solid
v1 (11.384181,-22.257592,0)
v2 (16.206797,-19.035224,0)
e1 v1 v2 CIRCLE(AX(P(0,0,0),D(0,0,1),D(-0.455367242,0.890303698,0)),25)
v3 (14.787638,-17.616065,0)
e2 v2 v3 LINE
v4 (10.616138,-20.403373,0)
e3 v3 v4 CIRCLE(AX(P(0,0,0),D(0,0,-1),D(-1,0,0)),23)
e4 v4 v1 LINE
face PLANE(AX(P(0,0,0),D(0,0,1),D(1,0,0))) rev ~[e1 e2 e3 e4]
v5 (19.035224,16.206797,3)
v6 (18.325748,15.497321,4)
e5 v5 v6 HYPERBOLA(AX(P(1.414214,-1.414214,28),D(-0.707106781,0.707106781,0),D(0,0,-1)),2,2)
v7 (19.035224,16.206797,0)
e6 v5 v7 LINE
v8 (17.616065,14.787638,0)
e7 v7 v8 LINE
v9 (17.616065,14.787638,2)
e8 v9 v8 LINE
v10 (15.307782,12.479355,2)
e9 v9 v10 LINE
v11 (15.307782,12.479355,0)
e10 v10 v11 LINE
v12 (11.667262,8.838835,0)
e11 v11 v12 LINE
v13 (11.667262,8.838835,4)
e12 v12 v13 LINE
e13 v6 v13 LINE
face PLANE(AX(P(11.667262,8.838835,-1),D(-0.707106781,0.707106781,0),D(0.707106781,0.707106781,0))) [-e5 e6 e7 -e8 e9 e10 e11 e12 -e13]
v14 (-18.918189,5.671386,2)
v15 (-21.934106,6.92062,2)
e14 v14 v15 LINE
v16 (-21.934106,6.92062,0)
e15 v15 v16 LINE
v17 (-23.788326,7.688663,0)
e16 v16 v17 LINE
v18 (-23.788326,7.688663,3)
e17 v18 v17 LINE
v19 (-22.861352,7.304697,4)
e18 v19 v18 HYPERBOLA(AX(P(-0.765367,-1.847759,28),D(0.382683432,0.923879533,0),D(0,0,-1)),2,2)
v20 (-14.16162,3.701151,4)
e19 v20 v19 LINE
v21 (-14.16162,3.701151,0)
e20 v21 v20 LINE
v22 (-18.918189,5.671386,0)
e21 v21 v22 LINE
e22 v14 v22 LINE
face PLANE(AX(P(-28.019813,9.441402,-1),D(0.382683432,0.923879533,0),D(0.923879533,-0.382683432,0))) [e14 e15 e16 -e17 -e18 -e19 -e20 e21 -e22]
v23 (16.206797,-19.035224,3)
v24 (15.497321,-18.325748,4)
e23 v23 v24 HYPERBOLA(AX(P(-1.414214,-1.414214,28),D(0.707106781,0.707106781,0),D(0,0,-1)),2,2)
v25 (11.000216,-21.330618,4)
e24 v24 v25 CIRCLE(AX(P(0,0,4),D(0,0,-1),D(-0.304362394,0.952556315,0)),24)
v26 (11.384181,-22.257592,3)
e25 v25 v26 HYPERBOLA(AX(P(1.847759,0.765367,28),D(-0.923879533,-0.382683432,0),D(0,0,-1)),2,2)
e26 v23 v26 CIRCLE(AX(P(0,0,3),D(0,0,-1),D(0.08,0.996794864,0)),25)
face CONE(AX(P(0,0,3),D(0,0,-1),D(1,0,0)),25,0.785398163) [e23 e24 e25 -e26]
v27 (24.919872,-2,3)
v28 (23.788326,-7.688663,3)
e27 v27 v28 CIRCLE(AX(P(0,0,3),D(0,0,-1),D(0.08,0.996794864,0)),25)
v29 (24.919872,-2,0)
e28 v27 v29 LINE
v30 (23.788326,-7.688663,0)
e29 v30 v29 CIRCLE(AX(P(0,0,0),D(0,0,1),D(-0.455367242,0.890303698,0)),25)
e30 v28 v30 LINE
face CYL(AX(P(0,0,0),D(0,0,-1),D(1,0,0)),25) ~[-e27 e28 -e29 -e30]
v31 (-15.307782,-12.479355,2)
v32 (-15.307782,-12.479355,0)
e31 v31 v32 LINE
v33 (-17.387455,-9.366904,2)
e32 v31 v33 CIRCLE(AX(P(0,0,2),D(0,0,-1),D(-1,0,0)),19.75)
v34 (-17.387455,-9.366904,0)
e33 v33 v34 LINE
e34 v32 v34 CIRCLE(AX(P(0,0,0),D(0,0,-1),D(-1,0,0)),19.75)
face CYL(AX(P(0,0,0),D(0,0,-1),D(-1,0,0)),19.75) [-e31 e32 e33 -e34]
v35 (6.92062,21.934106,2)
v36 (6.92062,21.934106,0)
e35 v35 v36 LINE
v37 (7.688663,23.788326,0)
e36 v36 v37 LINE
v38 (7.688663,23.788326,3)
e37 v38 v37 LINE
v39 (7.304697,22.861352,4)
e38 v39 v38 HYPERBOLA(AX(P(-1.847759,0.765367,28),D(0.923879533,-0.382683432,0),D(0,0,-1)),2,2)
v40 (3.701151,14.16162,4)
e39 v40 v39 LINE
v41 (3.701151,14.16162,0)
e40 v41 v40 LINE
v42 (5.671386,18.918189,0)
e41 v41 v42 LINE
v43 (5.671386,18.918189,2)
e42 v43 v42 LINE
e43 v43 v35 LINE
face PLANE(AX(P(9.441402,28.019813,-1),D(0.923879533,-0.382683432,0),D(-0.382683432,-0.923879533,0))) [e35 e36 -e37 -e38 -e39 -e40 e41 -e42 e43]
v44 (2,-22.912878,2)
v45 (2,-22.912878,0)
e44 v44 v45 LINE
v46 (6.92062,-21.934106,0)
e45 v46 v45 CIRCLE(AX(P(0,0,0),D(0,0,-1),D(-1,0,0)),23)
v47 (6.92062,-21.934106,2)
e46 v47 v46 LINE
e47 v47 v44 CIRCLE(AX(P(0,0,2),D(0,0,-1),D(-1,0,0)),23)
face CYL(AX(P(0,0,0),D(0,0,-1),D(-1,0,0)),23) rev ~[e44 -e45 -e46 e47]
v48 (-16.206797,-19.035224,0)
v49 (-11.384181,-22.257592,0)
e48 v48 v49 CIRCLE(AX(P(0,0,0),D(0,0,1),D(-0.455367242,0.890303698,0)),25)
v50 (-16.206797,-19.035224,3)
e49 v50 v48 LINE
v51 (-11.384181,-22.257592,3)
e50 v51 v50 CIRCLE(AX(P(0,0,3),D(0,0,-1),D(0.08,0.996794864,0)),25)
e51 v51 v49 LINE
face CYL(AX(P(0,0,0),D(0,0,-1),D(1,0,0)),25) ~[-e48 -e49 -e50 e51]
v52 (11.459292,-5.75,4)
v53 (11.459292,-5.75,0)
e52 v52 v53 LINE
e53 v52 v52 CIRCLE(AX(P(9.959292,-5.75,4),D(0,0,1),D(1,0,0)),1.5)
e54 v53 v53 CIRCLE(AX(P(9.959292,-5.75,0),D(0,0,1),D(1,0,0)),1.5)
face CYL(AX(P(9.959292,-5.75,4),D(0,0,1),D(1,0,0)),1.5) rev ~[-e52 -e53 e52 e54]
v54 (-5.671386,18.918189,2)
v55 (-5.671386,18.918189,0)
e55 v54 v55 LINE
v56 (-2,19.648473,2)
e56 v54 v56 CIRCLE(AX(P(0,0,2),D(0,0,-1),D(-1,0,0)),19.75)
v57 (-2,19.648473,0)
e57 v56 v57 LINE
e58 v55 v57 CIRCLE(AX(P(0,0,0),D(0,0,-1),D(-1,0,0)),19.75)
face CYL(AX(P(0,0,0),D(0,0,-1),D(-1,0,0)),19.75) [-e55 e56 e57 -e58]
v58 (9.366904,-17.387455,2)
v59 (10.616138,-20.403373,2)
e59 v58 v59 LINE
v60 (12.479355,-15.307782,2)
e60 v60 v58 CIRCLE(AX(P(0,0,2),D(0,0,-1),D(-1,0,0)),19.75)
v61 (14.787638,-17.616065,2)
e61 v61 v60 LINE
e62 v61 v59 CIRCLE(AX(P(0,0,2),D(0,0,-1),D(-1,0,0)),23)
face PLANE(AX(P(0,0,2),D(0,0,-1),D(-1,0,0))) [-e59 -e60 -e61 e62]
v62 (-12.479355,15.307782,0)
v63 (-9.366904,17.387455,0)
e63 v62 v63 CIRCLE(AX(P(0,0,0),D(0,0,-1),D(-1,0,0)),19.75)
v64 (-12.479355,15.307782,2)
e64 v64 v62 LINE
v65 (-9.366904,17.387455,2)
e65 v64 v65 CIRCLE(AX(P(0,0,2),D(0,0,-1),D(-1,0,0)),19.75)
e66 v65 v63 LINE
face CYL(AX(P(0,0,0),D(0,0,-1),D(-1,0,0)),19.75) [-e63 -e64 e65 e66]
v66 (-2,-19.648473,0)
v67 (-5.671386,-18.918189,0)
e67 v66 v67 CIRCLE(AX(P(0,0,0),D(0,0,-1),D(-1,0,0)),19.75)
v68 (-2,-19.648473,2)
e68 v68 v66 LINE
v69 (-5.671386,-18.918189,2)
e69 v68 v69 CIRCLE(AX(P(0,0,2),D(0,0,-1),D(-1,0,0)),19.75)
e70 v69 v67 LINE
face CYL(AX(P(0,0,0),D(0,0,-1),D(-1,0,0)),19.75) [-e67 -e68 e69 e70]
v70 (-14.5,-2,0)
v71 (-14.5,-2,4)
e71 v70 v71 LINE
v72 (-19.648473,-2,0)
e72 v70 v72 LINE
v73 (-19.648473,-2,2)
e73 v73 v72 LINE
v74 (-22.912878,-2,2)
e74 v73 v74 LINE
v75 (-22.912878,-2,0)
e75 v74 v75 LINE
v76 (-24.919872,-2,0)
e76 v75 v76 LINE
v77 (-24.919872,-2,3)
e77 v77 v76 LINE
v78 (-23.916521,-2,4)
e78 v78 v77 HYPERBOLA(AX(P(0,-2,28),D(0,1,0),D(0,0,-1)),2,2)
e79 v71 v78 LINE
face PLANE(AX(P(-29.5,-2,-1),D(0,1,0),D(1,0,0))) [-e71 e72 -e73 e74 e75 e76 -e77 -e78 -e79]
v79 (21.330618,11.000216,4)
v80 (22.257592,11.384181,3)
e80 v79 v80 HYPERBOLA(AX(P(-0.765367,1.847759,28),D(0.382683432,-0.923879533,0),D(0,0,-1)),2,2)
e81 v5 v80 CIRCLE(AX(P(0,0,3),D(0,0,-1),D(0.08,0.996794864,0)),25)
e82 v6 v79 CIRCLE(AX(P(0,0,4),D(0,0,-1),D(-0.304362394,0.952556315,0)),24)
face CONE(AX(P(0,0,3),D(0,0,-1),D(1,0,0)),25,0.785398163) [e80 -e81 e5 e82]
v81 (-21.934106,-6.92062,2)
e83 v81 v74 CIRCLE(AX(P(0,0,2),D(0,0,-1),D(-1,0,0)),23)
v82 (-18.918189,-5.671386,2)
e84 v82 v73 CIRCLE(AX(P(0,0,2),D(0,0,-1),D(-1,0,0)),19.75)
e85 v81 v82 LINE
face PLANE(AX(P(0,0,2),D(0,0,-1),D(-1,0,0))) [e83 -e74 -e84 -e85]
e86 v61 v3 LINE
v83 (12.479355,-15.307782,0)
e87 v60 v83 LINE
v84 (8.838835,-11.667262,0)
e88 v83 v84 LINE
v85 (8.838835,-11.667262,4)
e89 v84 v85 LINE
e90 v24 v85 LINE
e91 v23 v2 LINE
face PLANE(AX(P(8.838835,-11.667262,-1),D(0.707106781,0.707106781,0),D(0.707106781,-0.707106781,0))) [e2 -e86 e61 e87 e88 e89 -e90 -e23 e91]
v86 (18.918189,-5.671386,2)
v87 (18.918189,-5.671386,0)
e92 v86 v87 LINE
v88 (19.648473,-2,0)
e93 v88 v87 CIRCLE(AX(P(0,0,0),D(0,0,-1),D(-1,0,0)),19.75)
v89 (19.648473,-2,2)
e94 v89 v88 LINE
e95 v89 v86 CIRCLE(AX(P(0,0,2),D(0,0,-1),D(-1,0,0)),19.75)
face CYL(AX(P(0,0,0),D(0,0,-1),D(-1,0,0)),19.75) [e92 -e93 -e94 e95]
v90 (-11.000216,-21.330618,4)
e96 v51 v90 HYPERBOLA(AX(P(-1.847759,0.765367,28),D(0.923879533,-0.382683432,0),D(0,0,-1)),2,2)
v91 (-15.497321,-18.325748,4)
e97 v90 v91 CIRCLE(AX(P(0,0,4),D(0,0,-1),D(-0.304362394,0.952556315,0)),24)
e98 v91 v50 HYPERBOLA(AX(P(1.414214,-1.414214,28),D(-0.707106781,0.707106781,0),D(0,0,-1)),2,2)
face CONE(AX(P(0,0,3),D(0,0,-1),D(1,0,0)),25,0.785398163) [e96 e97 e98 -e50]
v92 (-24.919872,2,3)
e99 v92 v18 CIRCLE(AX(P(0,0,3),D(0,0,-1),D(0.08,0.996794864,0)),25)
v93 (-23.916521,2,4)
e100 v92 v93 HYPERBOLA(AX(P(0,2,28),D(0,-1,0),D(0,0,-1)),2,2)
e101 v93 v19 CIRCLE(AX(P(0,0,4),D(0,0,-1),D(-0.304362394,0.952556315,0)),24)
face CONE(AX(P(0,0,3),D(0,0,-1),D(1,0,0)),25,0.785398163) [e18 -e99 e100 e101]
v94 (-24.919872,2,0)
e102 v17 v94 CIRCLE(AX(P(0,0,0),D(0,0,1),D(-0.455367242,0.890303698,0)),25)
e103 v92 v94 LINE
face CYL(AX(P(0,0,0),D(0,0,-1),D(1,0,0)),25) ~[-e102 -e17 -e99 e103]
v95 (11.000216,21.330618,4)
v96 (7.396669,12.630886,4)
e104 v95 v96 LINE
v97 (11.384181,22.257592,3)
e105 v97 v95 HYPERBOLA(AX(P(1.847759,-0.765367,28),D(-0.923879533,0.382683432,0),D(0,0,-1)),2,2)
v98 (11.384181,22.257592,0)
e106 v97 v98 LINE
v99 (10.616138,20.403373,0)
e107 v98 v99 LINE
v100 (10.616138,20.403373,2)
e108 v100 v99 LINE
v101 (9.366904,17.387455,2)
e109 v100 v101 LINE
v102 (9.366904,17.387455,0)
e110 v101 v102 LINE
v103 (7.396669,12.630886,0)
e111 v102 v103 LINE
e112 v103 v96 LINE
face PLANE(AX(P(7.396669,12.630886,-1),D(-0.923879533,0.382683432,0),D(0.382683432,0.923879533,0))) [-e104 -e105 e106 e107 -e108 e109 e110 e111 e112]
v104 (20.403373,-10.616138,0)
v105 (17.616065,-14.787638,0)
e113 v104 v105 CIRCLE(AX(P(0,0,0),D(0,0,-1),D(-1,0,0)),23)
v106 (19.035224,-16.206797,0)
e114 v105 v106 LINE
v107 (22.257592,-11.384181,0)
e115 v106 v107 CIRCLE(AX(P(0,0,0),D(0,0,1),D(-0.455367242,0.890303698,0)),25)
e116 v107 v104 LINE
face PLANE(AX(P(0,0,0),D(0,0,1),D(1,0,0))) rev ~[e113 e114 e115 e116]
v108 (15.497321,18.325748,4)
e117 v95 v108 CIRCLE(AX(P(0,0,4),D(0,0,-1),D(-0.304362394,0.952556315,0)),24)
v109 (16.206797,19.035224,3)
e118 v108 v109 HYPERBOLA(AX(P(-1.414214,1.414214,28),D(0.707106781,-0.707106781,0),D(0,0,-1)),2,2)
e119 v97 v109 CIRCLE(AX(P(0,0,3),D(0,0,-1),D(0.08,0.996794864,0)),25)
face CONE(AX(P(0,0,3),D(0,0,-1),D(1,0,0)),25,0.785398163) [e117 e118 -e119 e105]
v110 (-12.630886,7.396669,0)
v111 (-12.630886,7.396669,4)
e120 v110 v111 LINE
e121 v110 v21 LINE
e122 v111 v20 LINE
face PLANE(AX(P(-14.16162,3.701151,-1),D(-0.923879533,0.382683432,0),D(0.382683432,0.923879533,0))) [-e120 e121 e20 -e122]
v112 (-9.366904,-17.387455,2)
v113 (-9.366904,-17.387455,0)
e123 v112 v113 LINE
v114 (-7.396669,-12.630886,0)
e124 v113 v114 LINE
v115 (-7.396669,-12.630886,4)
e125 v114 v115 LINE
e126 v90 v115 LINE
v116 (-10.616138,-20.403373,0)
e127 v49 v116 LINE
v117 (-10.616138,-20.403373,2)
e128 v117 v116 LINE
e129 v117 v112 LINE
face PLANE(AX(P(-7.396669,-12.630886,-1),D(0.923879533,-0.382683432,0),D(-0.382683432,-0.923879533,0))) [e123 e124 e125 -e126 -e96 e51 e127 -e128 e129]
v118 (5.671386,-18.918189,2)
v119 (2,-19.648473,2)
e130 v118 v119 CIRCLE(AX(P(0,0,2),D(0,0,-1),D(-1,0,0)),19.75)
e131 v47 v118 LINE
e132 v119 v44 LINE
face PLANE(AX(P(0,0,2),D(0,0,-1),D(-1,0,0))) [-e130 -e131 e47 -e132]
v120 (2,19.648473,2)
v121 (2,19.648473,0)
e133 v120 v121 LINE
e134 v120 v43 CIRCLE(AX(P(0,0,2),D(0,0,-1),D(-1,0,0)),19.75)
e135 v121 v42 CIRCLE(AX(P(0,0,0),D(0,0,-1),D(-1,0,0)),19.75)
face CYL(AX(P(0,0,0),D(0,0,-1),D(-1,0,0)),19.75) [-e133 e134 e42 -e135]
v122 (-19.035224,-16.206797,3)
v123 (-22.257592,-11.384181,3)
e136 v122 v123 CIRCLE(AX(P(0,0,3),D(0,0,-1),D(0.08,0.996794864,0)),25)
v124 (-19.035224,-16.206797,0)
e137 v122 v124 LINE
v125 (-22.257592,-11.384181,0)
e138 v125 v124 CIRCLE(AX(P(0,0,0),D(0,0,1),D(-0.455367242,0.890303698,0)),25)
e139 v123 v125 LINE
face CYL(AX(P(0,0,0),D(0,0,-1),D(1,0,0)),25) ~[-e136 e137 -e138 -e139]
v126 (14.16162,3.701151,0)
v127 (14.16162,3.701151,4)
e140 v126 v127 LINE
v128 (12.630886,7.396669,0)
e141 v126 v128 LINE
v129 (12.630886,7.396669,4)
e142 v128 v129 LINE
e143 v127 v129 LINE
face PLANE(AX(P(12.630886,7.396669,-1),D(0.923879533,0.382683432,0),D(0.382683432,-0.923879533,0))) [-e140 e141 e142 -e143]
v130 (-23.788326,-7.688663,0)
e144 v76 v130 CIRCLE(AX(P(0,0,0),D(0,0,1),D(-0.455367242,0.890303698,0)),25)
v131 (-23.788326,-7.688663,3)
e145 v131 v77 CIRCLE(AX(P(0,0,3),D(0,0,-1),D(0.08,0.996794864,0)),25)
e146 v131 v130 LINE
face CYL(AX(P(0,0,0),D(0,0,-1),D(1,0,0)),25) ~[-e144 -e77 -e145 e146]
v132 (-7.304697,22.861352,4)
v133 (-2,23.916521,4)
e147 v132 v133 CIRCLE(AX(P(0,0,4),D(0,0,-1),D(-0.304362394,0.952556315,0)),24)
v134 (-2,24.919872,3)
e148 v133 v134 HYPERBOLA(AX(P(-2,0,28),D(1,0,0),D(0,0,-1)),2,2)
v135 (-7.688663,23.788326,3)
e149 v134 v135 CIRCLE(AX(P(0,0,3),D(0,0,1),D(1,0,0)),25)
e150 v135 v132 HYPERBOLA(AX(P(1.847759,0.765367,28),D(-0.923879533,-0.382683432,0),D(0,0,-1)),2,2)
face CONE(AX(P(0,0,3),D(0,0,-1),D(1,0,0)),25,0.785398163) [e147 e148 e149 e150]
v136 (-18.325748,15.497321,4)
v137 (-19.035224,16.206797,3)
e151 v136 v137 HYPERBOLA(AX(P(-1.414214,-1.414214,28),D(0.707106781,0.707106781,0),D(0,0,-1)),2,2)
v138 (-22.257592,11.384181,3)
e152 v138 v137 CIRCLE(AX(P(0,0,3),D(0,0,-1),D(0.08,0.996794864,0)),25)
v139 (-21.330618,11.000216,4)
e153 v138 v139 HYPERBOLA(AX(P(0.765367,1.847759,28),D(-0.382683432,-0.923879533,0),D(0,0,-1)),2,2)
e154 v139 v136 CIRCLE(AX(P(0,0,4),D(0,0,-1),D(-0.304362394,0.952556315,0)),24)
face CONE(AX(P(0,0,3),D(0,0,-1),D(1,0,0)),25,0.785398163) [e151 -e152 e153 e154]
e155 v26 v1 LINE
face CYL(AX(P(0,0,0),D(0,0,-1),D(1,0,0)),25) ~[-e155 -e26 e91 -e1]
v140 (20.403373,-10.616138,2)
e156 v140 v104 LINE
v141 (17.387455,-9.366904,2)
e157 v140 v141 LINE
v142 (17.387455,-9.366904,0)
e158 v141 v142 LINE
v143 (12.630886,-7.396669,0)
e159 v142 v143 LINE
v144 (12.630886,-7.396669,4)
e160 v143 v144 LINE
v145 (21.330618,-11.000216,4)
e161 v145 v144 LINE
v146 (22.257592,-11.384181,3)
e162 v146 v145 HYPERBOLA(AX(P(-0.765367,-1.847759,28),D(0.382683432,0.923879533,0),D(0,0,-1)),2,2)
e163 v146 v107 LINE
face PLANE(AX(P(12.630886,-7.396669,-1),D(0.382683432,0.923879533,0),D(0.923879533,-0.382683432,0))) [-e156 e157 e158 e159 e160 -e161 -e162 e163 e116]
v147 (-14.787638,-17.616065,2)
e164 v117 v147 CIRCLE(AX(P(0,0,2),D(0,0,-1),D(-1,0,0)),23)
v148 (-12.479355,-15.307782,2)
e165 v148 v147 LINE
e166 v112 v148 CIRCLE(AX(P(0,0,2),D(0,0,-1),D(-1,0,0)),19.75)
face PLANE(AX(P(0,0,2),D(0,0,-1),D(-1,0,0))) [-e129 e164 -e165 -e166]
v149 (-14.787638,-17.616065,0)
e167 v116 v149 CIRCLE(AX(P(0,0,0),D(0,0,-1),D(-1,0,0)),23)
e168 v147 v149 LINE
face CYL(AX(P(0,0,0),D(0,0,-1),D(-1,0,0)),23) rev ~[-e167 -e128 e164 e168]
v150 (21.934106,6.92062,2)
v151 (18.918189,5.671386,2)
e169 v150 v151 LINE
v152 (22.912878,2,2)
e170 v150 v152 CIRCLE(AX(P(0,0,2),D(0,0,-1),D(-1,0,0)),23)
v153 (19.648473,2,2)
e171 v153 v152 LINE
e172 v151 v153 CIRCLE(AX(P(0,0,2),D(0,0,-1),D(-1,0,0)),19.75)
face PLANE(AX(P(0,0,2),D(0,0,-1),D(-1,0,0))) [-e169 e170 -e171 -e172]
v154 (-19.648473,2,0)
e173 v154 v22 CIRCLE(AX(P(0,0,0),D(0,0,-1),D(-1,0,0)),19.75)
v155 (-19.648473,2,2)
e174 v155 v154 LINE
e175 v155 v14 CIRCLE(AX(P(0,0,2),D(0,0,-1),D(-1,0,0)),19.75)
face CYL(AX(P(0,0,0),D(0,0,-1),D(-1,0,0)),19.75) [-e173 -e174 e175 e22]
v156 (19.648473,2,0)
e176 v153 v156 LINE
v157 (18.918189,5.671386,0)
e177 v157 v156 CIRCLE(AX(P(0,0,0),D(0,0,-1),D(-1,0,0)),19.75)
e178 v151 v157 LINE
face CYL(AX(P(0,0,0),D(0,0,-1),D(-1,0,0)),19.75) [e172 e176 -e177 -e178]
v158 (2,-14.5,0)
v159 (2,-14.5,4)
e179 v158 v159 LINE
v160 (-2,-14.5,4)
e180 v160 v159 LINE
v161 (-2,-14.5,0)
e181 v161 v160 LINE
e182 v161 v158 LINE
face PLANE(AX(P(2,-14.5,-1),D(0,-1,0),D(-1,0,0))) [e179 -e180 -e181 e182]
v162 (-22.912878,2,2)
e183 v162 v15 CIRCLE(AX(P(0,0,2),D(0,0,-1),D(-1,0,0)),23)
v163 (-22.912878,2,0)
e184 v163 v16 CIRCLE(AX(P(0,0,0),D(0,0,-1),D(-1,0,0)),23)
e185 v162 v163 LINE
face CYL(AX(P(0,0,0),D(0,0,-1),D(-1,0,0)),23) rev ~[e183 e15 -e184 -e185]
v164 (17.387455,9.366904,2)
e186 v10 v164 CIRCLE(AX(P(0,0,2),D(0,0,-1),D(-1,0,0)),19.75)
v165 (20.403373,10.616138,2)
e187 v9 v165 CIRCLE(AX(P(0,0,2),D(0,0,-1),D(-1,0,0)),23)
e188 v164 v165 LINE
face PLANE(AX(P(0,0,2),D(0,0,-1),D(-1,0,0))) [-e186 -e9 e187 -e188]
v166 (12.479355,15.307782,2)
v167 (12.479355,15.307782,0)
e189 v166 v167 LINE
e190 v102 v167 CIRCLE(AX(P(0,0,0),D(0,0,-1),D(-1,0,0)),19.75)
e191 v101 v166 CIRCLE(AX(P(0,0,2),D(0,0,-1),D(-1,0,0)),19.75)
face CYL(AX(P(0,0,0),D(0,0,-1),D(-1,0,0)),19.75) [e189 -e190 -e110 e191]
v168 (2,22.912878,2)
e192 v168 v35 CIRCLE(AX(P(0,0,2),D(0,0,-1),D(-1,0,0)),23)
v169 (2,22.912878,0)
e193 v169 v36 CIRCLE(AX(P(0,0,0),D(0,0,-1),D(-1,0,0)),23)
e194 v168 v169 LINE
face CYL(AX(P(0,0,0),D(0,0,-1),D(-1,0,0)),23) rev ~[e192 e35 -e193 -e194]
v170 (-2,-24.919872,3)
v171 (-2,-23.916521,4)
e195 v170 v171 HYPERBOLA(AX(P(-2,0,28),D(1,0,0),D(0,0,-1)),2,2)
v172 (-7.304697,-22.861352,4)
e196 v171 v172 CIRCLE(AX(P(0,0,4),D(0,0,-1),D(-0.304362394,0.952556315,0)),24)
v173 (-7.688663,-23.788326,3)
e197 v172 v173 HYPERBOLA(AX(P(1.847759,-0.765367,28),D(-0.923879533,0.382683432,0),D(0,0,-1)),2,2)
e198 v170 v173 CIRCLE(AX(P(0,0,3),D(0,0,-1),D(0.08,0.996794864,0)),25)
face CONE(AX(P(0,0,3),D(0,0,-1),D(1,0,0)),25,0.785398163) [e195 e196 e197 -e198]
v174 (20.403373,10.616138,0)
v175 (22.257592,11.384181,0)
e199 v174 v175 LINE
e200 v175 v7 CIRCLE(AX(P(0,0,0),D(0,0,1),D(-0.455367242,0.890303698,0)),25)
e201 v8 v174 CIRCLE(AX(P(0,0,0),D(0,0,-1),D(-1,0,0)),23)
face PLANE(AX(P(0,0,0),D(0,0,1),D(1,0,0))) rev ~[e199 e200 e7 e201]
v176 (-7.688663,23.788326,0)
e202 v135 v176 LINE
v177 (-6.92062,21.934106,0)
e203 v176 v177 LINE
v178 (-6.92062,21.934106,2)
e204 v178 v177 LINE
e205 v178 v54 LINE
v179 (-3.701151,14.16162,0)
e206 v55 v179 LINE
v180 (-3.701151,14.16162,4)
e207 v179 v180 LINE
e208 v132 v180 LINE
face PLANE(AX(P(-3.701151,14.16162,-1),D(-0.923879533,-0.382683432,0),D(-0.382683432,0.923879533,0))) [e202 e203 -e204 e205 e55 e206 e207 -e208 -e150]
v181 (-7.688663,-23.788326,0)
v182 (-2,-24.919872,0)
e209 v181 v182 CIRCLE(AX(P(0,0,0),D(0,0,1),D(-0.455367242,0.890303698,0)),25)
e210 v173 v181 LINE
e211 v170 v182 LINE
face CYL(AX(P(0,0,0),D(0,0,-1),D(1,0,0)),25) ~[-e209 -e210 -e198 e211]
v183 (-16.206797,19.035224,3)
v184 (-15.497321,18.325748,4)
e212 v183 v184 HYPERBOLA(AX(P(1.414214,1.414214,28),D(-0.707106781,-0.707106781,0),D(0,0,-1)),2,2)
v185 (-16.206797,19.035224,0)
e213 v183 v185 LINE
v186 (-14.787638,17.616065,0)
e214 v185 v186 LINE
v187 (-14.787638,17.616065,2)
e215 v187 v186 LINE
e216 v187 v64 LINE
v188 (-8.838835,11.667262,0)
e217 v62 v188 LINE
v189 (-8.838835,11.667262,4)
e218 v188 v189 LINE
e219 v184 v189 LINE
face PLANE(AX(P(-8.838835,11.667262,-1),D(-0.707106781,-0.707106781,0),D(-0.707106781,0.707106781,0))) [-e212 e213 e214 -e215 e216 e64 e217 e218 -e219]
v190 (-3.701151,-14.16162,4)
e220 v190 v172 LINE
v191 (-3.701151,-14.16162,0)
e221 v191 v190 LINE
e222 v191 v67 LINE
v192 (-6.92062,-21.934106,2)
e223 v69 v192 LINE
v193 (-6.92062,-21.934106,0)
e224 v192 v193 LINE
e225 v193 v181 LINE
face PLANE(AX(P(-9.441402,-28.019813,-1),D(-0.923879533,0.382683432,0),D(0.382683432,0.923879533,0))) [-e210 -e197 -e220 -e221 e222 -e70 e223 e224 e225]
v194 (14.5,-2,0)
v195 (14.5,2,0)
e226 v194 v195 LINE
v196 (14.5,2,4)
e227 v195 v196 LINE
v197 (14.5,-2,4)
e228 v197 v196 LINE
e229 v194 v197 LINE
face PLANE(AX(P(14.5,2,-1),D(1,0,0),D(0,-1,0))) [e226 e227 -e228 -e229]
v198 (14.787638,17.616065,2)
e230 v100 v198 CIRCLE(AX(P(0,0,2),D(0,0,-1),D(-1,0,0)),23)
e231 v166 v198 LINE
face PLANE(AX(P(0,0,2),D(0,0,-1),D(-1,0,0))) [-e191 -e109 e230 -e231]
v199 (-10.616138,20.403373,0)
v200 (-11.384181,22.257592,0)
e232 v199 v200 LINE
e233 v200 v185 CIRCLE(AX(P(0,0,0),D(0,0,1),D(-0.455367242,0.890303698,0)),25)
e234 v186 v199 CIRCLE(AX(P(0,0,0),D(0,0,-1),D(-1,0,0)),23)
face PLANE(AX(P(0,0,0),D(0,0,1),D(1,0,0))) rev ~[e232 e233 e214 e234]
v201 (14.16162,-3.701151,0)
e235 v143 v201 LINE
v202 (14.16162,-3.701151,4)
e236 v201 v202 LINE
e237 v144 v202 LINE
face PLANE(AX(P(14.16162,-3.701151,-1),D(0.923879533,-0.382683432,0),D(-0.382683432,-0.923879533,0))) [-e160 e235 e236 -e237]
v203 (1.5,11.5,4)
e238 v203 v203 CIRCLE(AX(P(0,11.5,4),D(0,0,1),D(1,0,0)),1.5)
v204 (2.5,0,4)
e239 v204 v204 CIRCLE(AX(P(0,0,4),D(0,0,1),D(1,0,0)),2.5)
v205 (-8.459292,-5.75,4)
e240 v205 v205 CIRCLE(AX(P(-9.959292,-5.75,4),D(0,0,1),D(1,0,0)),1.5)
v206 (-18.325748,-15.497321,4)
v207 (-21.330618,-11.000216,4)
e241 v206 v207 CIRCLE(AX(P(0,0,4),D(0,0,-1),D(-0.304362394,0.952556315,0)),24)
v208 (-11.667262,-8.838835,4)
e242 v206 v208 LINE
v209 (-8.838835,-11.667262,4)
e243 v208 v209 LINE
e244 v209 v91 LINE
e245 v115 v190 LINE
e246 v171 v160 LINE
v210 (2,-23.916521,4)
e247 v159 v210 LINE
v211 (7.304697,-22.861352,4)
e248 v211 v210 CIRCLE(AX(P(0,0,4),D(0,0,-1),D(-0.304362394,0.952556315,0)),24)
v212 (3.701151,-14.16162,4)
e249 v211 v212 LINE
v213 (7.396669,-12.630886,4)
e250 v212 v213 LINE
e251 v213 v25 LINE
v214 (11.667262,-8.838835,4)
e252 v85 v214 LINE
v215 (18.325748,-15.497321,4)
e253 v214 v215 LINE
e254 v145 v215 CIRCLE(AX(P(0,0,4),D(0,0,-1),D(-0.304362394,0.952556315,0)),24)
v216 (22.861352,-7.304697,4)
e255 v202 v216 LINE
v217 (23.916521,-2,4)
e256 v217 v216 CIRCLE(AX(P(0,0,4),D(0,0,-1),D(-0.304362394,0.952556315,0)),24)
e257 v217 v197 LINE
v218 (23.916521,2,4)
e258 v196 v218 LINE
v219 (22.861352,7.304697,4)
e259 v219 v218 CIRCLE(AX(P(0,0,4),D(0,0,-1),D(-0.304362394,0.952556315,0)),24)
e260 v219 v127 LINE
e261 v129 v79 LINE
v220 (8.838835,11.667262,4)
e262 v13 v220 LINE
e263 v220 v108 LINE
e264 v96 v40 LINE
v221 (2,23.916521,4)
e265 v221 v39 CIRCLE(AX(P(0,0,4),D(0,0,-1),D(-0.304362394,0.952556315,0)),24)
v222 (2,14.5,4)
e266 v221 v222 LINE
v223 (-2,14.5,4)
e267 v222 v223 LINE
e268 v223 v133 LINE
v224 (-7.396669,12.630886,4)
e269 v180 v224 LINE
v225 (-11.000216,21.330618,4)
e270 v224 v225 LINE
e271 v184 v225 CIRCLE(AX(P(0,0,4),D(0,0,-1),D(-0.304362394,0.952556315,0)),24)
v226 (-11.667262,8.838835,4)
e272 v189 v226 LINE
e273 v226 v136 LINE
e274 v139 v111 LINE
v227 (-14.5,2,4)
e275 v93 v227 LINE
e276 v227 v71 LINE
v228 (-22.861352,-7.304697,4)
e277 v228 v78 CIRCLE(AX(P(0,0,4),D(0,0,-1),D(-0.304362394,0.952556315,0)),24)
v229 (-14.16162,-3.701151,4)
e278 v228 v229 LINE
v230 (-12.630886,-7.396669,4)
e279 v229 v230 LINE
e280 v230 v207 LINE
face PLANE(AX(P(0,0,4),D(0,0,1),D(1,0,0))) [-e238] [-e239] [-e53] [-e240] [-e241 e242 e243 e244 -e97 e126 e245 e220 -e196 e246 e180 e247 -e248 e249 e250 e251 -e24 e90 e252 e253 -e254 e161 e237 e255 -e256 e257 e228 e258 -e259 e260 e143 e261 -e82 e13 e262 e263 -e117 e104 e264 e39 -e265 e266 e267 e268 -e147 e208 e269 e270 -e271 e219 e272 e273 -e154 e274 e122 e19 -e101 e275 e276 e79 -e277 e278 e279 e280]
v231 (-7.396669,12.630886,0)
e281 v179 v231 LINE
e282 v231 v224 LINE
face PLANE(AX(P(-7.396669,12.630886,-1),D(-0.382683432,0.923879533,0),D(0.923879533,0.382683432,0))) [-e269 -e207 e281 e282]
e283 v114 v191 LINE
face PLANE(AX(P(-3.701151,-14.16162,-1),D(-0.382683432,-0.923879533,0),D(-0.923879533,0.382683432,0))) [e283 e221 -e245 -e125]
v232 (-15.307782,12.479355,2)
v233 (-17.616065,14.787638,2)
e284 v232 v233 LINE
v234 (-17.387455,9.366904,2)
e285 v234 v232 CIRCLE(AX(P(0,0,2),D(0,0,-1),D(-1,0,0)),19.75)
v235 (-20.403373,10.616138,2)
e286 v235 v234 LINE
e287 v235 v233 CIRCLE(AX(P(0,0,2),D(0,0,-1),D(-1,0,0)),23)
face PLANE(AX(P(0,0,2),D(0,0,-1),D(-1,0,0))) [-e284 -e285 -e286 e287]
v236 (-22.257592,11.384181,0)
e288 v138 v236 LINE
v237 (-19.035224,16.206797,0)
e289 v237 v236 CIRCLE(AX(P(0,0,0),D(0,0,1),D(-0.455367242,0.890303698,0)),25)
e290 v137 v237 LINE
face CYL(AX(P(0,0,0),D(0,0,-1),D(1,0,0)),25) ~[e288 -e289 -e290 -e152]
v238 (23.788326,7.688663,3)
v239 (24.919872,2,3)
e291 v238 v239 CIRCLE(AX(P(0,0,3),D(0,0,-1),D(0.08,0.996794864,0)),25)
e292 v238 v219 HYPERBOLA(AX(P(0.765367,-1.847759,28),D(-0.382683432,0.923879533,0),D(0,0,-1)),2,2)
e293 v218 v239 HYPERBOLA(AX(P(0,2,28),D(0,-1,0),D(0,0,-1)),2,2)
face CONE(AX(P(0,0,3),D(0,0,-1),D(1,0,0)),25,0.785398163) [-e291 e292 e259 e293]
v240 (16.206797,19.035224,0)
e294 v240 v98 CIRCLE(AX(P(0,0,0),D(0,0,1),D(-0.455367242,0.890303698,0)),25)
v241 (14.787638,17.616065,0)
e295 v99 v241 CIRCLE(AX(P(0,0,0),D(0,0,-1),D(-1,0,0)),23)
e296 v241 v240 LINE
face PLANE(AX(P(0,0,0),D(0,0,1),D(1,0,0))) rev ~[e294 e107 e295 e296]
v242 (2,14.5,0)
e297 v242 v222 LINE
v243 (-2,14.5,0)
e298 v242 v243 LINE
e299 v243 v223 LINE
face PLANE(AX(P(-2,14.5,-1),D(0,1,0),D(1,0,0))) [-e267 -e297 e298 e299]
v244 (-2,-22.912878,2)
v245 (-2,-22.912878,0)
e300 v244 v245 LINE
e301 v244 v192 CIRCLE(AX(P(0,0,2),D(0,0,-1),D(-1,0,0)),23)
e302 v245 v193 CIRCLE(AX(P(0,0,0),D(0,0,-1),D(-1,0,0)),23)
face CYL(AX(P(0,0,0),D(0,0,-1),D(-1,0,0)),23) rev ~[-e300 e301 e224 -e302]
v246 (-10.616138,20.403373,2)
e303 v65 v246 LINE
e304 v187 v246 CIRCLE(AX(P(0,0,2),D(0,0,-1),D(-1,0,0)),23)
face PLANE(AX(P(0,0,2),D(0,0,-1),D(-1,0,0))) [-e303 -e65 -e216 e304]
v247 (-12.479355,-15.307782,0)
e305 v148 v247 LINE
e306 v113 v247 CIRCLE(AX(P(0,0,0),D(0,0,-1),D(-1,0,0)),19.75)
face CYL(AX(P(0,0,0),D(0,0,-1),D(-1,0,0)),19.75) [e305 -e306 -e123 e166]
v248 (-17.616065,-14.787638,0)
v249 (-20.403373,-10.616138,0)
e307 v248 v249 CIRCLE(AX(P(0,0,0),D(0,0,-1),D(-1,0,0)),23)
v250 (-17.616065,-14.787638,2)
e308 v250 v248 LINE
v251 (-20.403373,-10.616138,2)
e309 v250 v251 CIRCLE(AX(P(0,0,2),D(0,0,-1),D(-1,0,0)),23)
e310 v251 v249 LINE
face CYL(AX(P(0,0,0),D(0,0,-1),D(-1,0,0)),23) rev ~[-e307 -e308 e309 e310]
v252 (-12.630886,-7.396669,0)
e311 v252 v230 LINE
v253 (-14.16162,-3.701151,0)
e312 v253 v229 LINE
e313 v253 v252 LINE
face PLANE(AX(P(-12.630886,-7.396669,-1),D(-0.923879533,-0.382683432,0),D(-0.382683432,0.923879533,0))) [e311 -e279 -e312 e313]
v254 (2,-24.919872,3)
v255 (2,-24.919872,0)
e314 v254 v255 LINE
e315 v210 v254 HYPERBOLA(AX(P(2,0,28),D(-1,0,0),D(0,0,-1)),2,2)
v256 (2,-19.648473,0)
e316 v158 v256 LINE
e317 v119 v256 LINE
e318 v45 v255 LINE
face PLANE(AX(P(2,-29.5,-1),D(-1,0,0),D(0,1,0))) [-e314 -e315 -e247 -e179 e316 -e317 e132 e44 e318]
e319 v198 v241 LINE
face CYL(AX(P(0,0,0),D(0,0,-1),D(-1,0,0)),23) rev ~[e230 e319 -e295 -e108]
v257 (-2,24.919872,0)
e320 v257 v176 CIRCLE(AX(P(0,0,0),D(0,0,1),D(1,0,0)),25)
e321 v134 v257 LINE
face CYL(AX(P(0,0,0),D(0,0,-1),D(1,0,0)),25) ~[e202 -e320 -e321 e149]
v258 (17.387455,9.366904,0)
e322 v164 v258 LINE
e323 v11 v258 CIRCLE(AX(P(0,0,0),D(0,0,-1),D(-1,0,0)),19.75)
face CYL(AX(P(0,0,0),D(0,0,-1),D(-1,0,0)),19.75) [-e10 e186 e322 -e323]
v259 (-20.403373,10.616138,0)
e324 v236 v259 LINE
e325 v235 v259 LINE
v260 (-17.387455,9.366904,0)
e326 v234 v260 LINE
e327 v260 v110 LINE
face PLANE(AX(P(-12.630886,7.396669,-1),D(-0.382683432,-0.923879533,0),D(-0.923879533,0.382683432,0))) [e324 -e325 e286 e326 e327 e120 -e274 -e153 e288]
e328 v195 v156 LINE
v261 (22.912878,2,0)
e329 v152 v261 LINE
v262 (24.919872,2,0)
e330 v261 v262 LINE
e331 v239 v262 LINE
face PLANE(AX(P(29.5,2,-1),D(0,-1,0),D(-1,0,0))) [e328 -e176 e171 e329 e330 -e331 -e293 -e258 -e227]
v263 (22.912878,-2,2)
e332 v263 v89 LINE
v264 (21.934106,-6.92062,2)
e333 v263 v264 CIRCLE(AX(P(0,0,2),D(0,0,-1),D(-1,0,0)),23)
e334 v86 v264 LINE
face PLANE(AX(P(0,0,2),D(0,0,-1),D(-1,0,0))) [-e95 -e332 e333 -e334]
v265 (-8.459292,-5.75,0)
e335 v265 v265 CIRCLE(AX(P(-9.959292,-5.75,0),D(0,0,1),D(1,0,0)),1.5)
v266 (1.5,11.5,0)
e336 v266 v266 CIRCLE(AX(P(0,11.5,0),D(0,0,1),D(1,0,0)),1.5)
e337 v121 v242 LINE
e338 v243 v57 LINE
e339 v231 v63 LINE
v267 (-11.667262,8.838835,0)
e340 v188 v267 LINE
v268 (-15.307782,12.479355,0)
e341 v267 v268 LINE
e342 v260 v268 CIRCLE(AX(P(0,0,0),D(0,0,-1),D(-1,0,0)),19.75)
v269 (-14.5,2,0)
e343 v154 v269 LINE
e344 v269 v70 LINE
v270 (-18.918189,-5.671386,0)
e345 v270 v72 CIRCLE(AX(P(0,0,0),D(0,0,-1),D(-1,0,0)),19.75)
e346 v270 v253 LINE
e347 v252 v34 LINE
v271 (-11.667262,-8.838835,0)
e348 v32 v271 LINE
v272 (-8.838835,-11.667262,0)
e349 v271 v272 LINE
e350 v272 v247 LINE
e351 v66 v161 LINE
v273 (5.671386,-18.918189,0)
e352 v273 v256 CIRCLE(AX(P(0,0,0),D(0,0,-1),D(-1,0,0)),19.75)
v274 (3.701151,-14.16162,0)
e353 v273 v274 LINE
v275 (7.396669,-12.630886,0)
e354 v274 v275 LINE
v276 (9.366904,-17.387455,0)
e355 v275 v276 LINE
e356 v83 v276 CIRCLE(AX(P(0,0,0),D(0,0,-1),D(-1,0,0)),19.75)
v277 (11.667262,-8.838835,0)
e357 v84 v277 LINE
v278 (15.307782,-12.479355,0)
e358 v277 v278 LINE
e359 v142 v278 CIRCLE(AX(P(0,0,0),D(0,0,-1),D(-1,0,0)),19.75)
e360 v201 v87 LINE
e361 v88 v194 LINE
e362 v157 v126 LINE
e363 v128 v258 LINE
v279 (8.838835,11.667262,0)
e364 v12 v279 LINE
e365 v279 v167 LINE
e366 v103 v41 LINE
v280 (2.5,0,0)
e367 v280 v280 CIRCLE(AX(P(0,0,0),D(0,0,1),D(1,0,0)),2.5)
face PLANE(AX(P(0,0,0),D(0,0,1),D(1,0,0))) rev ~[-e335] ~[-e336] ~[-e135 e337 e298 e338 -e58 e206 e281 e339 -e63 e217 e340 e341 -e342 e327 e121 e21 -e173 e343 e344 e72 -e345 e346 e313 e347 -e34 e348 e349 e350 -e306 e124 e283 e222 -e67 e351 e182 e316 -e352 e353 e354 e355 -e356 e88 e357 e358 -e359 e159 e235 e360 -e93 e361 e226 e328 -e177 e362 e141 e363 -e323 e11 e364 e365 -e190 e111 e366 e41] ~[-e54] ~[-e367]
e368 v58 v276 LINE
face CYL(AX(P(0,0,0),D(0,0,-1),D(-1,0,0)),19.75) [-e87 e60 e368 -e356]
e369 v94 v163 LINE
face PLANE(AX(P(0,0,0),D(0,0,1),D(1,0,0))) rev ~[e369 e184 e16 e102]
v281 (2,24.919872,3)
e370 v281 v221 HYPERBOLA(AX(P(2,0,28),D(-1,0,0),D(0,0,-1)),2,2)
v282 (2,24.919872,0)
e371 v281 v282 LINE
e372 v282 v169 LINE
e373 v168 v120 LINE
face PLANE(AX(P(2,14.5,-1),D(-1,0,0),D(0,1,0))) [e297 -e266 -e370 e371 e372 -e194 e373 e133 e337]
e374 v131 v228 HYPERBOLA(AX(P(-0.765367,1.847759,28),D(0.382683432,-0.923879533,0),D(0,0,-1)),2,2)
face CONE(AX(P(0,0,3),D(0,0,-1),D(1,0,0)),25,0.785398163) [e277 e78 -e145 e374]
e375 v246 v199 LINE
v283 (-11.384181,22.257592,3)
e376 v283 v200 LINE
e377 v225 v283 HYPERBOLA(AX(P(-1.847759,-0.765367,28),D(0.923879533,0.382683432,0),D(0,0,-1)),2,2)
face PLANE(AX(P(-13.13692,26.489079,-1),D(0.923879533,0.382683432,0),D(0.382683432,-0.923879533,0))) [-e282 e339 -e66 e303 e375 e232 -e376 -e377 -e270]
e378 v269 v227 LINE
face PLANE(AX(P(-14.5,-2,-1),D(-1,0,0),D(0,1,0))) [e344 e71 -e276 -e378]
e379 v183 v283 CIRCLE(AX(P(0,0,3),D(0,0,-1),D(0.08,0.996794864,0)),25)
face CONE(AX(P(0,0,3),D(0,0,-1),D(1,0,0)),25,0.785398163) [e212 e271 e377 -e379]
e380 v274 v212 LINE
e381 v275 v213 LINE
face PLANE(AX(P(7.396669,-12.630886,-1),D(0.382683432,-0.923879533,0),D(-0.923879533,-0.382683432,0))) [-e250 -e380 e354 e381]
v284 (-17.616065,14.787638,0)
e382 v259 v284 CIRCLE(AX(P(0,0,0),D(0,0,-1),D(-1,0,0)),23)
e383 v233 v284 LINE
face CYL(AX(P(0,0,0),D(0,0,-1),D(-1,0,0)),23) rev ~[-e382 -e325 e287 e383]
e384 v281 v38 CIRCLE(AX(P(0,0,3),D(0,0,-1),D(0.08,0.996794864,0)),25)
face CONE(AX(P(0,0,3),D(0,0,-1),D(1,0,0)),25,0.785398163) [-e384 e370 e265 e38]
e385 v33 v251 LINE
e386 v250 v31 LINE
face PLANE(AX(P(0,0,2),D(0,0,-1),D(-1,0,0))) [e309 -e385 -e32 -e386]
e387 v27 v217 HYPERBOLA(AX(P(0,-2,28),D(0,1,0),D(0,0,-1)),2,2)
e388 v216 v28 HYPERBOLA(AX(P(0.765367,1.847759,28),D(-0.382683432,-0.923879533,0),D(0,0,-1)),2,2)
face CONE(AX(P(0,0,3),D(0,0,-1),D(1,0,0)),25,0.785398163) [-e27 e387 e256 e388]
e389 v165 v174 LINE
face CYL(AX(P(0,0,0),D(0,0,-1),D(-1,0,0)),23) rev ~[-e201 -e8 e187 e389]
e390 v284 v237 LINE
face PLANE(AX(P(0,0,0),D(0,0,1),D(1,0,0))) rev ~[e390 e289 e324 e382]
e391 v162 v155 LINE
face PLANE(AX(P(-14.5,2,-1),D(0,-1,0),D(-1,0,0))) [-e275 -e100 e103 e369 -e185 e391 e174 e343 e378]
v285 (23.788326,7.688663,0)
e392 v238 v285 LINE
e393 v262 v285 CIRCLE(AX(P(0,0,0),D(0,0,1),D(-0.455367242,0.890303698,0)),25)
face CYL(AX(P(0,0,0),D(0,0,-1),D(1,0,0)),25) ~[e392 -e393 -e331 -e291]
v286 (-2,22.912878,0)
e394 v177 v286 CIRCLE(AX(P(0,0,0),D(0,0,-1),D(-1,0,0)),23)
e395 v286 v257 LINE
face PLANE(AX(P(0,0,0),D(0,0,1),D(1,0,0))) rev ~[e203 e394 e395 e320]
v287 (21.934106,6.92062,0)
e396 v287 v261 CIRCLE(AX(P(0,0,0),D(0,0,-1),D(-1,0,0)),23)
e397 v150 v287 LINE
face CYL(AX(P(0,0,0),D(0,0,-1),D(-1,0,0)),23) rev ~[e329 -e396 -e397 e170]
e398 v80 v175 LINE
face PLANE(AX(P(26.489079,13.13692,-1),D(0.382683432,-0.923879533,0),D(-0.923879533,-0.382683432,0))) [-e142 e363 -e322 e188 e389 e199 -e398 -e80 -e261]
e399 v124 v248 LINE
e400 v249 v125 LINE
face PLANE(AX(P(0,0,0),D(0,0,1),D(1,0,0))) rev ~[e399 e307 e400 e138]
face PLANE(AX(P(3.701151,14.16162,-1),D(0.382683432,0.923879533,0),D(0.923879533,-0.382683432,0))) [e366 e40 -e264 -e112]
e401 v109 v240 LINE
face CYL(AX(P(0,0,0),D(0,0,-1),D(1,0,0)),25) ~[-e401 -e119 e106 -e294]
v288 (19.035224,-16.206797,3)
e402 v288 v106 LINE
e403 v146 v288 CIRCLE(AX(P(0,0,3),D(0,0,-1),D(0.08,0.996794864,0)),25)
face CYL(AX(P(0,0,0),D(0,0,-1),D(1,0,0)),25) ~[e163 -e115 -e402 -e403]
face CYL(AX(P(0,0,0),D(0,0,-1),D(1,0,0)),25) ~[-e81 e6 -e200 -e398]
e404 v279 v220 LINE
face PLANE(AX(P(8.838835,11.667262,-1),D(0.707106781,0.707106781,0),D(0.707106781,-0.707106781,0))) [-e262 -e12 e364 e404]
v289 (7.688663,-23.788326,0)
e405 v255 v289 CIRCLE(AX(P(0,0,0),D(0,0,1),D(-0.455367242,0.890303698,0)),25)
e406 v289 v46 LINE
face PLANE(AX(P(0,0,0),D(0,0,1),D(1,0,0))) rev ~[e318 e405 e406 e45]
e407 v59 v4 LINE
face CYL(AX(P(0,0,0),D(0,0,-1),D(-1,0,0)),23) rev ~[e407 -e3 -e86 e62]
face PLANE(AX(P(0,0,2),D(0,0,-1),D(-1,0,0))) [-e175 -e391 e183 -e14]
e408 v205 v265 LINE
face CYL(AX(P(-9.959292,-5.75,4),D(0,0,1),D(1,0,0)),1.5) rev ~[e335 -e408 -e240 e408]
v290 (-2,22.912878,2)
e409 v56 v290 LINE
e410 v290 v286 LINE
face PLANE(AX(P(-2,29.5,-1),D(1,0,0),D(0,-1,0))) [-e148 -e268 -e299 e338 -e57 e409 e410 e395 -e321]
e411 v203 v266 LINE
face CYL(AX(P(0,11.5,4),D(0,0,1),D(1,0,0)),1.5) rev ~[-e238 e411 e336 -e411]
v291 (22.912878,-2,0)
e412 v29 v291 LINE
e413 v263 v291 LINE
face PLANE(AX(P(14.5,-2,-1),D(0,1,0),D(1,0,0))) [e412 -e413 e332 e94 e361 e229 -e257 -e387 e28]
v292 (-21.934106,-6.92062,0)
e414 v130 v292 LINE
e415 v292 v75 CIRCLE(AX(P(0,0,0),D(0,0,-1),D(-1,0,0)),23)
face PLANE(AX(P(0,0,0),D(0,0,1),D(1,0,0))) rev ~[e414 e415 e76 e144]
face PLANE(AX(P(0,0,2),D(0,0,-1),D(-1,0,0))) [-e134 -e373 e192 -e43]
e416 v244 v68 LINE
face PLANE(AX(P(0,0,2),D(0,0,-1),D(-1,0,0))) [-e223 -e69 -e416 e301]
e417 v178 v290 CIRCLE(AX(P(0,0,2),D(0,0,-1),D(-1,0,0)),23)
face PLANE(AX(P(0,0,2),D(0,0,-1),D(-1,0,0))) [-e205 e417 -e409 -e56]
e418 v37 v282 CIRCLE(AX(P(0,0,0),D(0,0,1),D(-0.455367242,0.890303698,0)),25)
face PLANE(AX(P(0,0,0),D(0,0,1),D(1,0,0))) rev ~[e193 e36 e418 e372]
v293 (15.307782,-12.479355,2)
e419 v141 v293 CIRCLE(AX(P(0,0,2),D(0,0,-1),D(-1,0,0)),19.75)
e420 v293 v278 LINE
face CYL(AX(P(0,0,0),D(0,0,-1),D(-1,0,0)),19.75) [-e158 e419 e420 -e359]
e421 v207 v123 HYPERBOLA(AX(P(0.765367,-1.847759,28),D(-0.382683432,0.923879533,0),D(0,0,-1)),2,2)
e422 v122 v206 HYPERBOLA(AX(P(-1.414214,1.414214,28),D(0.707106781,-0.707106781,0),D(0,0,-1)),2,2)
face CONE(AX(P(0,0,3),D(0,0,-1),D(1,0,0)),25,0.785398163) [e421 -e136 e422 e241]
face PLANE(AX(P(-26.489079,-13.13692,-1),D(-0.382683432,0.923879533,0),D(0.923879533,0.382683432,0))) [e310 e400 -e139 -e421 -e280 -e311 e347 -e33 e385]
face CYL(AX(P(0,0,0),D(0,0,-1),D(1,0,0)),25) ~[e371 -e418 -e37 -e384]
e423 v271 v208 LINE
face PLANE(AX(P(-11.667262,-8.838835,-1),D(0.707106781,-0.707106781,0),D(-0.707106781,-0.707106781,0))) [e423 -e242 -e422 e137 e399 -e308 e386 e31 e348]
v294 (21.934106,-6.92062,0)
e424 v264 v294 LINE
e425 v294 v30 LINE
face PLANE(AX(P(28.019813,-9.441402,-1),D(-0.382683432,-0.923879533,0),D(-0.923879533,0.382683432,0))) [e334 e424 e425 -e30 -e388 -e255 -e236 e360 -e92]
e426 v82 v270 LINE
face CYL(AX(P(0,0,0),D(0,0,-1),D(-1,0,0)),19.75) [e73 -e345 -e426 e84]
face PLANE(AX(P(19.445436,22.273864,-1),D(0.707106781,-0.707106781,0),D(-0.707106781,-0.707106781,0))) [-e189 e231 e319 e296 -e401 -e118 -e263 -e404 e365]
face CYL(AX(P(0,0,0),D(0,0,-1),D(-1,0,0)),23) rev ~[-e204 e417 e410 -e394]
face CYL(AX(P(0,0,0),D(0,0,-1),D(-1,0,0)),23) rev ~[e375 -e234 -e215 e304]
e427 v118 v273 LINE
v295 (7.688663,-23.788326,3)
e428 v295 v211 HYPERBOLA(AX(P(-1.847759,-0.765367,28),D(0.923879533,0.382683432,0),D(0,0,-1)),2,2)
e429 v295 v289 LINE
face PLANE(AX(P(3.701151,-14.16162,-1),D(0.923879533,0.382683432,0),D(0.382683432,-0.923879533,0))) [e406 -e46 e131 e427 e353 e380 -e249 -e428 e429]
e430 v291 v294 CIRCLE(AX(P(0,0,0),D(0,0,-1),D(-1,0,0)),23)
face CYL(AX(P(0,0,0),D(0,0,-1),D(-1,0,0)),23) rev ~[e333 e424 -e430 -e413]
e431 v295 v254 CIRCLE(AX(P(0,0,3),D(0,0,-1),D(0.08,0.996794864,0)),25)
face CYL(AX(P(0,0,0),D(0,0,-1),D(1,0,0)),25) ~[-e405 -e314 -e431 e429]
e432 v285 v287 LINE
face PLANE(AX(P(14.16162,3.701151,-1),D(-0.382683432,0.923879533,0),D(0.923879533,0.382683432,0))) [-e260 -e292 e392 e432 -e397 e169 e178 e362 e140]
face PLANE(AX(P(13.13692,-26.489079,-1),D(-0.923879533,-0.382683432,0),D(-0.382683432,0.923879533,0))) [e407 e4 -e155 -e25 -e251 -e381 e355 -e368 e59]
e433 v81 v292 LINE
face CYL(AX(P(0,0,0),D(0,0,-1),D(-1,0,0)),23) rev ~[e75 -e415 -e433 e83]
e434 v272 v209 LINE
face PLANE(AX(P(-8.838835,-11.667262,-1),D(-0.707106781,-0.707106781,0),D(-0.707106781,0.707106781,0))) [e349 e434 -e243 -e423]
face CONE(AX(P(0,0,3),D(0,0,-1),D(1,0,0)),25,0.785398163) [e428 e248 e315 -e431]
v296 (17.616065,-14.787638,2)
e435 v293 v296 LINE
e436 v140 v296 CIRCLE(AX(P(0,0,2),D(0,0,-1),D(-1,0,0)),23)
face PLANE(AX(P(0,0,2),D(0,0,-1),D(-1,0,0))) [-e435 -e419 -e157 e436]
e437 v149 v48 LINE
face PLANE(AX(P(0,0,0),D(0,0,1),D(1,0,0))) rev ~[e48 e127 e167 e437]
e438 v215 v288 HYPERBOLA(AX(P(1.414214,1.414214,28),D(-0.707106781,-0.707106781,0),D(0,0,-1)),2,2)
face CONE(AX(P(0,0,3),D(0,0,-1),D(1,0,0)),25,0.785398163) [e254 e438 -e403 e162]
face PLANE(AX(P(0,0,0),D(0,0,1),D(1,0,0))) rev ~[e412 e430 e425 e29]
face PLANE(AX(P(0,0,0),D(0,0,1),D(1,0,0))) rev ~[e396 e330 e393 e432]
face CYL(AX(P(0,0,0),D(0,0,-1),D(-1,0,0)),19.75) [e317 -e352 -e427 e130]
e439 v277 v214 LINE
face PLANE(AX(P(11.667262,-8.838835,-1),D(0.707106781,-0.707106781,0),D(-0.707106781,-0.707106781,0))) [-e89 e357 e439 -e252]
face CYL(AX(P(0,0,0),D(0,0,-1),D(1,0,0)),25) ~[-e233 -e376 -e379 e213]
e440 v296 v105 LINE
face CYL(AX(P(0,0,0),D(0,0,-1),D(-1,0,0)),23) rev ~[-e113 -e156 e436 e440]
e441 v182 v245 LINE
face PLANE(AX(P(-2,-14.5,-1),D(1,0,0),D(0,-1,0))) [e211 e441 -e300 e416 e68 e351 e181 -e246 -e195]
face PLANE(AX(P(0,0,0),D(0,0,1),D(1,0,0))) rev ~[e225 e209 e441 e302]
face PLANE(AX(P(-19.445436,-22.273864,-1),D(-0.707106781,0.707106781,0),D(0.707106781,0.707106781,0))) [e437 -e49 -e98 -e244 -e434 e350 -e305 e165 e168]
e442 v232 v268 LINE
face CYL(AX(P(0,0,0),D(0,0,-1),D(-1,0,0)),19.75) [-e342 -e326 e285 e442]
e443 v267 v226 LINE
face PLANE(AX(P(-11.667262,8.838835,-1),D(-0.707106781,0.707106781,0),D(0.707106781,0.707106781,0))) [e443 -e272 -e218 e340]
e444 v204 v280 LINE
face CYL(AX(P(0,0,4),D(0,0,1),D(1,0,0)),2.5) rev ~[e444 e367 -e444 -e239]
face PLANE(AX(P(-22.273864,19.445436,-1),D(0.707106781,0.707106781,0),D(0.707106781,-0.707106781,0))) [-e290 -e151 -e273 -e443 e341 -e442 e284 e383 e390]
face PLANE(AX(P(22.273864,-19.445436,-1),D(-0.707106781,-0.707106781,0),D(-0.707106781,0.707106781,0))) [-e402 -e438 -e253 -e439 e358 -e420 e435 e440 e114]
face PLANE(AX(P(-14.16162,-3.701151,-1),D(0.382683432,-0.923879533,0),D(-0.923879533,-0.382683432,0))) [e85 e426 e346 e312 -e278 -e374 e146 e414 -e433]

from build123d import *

# Parameters (mm, degrees)
ESBO_O1_R             = 25
EXTRUS_O1_DEPTH       = 4
EXTRUS_O2_DEPTH       = 1
EXTRUS_O2_DEPTH_BACK  = 5
CHANFRO1_SIZE         = 1
CIRPATTERN1_COUNT     = 16
ESBO_O5_R             = 1.5
ESBO_O5_R_2           = 2.5
CORTE_EXTRUS_O2_DEPTH = 36.468295702
ESBO_O8_R             = 23
ESBO_O8_R_2           = 19.75
CORTE_EXTRUS_O4_DEPTH = 2


with BuildPart() as part:
    # Esboço1 → Extrusão1 (new body)
    with BuildSketch(Plane.XY):
        Circle(ESBO_O1_R)
    extrude(amount=EXTRUS_O1_DEPTH)

    # Chanfro1
    chanfro1_edges = [part.edges().sort_by_distance(p)[0] for p in [
        (-25, 0, 4),
    ]]
    chamfer(chanfro1_edges, length=CHANFRO1_SIZE)


with BuildPart() as body_2:
    # Esboço2 → Extrusão2 (new, two sides: drawn at the far end of the back side and taken through both)
    with BuildSketch(Plane.XY.offset(4).offset(-EXTRUS_O2_DEPTH_BACK)):
        Polygon((0, 14.5), (2, 14.5), (2, 29.5), (-2, 29.5), (-2, 14.5), align=None)
    extrude(amount=EXTRUS_O2_DEPTH + EXTRUS_O2_DEPTH_BACK)


with BuildPart() as cirpattern1_1:
    # CirPattern1: pattern copy
    add(body_2.part.rotate(Axis((0, 0, 22.401142828), (0, 0, -1)), 1 * 360 / CIRPATTERN1_COUNT))


with BuildPart() as cirpattern1_2:
    # CirPattern1: pattern copy
    add(body_2.part.rotate(Axis((0, 0, 22.401142828), (0, 0, -1)), 2 * 360 / CIRPATTERN1_COUNT))


with BuildPart() as cirpattern1_3:
    # CirPattern1: pattern copy
    add(body_2.part.rotate(Axis((0, 0, 22.401142828), (0, 0, -1)), 3 * 360 / CIRPATTERN1_COUNT))


with BuildPart() as cirpattern1_4:
    # CirPattern1: pattern copy
    add(body_2.part.rotate(Axis((0, 0, 22.401142828), (0, 0, -1)), 4 * 360 / CIRPATTERN1_COUNT))


with BuildPart() as cirpattern1_5:
    # CirPattern1: pattern copy
    add(body_2.part.rotate(Axis((0, 0, 22.401142828), (0, 0, -1)), 5 * 360 / CIRPATTERN1_COUNT))


with BuildPart() as cirpattern1_6:
    # CirPattern1: pattern copy
    add(body_2.part.rotate(Axis((0, 0, 22.401142828), (0, 0, -1)), 6 * 360 / CIRPATTERN1_COUNT))


with BuildPart() as cirpattern1_7:
    # CirPattern1: pattern copy
    add(body_2.part.rotate(Axis((0, 0, 22.401142828), (0, 0, -1)), 7 * 360 / CIRPATTERN1_COUNT))


with BuildPart() as cirpattern1_8:
    # CirPattern1: pattern copy
    add(body_2.part.rotate(Axis((0, 0, 22.401142828), (0, 0, -1)), 8 * 360 / CIRPATTERN1_COUNT))


with BuildPart() as cirpattern1_9:
    # CirPattern1: pattern copy
    add(body_2.part.rotate(Axis((0, 0, 22.401142828), (0, 0, -1)), 9 * 360 / CIRPATTERN1_COUNT))


with BuildPart() as cirpattern1_10:
    # CirPattern1: pattern copy
    add(body_2.part.rotate(Axis((0, 0, 22.401142828), (0, 0, -1)), 10 * 360 / CIRPATTERN1_COUNT))


with BuildPart() as cirpattern1_11:
    # CirPattern1: pattern copy
    add(body_2.part.rotate(Axis((0, 0, 22.401142828), (0, 0, -1)), 11 * 360 / CIRPATTERN1_COUNT))


with BuildPart() as cirpattern1_12:
    # CirPattern1: pattern copy
    add(body_2.part.rotate(Axis((0, 0, 22.401142828), (0, 0, -1)), 12 * 360 / CIRPATTERN1_COUNT))


with BuildPart() as cirpattern1_13:
    # CirPattern1: pattern copy
    add(body_2.part.rotate(Axis((0, 0, 22.401142828), (0, 0, -1)), 13 * 360 / CIRPATTERN1_COUNT))


with BuildPart() as cirpattern1_14:
    # CirPattern1: pattern copy
    add(body_2.part.rotate(Axis((0, 0, 22.401142828), (0, 0, -1)), 14 * 360 / CIRPATTERN1_COUNT))


with BuildPart() as cirpattern1_15:
    # CirPattern1: pattern copy
    add(body_2.part.rotate(Axis((0, 0, 22.401142828), (0, 0, -1)), 15 * 360 / CIRPATTERN1_COUNT))


with BuildPart() as part_1:
    add(part.part)

    # Combinar1: cut CirPattern1_15, body 2, CirPattern1_1, CirPattern1_2, CirPattern1_3, CirPattern1_4, CirPattern1_5, CirPattern1_6, CirPattern1_7, CirPattern1_8, CirPattern1_9, CirPattern1_10, CirPattern1_11, CirPattern1_12, CirPattern1_13, CirPattern1_14
    add(cirpattern1_15.part, mode=Mode.SUBTRACT)
    add(body_2.part, mode=Mode.SUBTRACT)
    add(cirpattern1_1.part, mode=Mode.SUBTRACT)
    add(cirpattern1_2.part, mode=Mode.SUBTRACT)
    add(cirpattern1_3.part, mode=Mode.SUBTRACT)
    add(cirpattern1_4.part, mode=Mode.SUBTRACT)
    add(cirpattern1_5.part, mode=Mode.SUBTRACT)
    add(cirpattern1_6.part, mode=Mode.SUBTRACT)
    add(cirpattern1_7.part, mode=Mode.SUBTRACT)
    add(cirpattern1_8.part, mode=Mode.SUBTRACT)
    add(cirpattern1_9.part, mode=Mode.SUBTRACT)
    add(cirpattern1_10.part, mode=Mode.SUBTRACT)
    add(cirpattern1_11.part, mode=Mode.SUBTRACT)
    add(cirpattern1_12.part, mode=Mode.SUBTRACT)
    add(cirpattern1_13.part, mode=Mode.SUBTRACT)
    add(cirpattern1_14.part, mode=Mode.SUBTRACT)

    # Esboço5 → Corte-extrusão2 (cut, through all)
    with BuildSketch(Plane.XY.offset(4)):
        with Locations((0, 11.5)):
            Circle(ESBO_O5_R)
        with Locations((9.959292144, -5.75)):
            Circle(ESBO_O5_R)
        with Locations((-9.959292144, -5.75)):
            Circle(ESBO_O5_R)
        Circle(ESBO_O5_R_2)
    extrude(amount=-CORTE_EXTRUS_O2_DEPTH, mode=Mode.SUBTRACT)

    # Esboço8 → Corte-extrusão4 (cut)
    with BuildSketch(Plane(origin=(0, 0, 0), x_dir=(-1, 0, 0), z_dir=(0, 0, -1))):
        Circle(ESBO_O8_R)
        Circle(ESBO_O8_R_2, mode=Mode.SUBTRACT)
    extrude(amount=-CORTE_EXTRUS_O4_DEPTH, mode=Mode.SUBTRACT)


solid = part_1.part
